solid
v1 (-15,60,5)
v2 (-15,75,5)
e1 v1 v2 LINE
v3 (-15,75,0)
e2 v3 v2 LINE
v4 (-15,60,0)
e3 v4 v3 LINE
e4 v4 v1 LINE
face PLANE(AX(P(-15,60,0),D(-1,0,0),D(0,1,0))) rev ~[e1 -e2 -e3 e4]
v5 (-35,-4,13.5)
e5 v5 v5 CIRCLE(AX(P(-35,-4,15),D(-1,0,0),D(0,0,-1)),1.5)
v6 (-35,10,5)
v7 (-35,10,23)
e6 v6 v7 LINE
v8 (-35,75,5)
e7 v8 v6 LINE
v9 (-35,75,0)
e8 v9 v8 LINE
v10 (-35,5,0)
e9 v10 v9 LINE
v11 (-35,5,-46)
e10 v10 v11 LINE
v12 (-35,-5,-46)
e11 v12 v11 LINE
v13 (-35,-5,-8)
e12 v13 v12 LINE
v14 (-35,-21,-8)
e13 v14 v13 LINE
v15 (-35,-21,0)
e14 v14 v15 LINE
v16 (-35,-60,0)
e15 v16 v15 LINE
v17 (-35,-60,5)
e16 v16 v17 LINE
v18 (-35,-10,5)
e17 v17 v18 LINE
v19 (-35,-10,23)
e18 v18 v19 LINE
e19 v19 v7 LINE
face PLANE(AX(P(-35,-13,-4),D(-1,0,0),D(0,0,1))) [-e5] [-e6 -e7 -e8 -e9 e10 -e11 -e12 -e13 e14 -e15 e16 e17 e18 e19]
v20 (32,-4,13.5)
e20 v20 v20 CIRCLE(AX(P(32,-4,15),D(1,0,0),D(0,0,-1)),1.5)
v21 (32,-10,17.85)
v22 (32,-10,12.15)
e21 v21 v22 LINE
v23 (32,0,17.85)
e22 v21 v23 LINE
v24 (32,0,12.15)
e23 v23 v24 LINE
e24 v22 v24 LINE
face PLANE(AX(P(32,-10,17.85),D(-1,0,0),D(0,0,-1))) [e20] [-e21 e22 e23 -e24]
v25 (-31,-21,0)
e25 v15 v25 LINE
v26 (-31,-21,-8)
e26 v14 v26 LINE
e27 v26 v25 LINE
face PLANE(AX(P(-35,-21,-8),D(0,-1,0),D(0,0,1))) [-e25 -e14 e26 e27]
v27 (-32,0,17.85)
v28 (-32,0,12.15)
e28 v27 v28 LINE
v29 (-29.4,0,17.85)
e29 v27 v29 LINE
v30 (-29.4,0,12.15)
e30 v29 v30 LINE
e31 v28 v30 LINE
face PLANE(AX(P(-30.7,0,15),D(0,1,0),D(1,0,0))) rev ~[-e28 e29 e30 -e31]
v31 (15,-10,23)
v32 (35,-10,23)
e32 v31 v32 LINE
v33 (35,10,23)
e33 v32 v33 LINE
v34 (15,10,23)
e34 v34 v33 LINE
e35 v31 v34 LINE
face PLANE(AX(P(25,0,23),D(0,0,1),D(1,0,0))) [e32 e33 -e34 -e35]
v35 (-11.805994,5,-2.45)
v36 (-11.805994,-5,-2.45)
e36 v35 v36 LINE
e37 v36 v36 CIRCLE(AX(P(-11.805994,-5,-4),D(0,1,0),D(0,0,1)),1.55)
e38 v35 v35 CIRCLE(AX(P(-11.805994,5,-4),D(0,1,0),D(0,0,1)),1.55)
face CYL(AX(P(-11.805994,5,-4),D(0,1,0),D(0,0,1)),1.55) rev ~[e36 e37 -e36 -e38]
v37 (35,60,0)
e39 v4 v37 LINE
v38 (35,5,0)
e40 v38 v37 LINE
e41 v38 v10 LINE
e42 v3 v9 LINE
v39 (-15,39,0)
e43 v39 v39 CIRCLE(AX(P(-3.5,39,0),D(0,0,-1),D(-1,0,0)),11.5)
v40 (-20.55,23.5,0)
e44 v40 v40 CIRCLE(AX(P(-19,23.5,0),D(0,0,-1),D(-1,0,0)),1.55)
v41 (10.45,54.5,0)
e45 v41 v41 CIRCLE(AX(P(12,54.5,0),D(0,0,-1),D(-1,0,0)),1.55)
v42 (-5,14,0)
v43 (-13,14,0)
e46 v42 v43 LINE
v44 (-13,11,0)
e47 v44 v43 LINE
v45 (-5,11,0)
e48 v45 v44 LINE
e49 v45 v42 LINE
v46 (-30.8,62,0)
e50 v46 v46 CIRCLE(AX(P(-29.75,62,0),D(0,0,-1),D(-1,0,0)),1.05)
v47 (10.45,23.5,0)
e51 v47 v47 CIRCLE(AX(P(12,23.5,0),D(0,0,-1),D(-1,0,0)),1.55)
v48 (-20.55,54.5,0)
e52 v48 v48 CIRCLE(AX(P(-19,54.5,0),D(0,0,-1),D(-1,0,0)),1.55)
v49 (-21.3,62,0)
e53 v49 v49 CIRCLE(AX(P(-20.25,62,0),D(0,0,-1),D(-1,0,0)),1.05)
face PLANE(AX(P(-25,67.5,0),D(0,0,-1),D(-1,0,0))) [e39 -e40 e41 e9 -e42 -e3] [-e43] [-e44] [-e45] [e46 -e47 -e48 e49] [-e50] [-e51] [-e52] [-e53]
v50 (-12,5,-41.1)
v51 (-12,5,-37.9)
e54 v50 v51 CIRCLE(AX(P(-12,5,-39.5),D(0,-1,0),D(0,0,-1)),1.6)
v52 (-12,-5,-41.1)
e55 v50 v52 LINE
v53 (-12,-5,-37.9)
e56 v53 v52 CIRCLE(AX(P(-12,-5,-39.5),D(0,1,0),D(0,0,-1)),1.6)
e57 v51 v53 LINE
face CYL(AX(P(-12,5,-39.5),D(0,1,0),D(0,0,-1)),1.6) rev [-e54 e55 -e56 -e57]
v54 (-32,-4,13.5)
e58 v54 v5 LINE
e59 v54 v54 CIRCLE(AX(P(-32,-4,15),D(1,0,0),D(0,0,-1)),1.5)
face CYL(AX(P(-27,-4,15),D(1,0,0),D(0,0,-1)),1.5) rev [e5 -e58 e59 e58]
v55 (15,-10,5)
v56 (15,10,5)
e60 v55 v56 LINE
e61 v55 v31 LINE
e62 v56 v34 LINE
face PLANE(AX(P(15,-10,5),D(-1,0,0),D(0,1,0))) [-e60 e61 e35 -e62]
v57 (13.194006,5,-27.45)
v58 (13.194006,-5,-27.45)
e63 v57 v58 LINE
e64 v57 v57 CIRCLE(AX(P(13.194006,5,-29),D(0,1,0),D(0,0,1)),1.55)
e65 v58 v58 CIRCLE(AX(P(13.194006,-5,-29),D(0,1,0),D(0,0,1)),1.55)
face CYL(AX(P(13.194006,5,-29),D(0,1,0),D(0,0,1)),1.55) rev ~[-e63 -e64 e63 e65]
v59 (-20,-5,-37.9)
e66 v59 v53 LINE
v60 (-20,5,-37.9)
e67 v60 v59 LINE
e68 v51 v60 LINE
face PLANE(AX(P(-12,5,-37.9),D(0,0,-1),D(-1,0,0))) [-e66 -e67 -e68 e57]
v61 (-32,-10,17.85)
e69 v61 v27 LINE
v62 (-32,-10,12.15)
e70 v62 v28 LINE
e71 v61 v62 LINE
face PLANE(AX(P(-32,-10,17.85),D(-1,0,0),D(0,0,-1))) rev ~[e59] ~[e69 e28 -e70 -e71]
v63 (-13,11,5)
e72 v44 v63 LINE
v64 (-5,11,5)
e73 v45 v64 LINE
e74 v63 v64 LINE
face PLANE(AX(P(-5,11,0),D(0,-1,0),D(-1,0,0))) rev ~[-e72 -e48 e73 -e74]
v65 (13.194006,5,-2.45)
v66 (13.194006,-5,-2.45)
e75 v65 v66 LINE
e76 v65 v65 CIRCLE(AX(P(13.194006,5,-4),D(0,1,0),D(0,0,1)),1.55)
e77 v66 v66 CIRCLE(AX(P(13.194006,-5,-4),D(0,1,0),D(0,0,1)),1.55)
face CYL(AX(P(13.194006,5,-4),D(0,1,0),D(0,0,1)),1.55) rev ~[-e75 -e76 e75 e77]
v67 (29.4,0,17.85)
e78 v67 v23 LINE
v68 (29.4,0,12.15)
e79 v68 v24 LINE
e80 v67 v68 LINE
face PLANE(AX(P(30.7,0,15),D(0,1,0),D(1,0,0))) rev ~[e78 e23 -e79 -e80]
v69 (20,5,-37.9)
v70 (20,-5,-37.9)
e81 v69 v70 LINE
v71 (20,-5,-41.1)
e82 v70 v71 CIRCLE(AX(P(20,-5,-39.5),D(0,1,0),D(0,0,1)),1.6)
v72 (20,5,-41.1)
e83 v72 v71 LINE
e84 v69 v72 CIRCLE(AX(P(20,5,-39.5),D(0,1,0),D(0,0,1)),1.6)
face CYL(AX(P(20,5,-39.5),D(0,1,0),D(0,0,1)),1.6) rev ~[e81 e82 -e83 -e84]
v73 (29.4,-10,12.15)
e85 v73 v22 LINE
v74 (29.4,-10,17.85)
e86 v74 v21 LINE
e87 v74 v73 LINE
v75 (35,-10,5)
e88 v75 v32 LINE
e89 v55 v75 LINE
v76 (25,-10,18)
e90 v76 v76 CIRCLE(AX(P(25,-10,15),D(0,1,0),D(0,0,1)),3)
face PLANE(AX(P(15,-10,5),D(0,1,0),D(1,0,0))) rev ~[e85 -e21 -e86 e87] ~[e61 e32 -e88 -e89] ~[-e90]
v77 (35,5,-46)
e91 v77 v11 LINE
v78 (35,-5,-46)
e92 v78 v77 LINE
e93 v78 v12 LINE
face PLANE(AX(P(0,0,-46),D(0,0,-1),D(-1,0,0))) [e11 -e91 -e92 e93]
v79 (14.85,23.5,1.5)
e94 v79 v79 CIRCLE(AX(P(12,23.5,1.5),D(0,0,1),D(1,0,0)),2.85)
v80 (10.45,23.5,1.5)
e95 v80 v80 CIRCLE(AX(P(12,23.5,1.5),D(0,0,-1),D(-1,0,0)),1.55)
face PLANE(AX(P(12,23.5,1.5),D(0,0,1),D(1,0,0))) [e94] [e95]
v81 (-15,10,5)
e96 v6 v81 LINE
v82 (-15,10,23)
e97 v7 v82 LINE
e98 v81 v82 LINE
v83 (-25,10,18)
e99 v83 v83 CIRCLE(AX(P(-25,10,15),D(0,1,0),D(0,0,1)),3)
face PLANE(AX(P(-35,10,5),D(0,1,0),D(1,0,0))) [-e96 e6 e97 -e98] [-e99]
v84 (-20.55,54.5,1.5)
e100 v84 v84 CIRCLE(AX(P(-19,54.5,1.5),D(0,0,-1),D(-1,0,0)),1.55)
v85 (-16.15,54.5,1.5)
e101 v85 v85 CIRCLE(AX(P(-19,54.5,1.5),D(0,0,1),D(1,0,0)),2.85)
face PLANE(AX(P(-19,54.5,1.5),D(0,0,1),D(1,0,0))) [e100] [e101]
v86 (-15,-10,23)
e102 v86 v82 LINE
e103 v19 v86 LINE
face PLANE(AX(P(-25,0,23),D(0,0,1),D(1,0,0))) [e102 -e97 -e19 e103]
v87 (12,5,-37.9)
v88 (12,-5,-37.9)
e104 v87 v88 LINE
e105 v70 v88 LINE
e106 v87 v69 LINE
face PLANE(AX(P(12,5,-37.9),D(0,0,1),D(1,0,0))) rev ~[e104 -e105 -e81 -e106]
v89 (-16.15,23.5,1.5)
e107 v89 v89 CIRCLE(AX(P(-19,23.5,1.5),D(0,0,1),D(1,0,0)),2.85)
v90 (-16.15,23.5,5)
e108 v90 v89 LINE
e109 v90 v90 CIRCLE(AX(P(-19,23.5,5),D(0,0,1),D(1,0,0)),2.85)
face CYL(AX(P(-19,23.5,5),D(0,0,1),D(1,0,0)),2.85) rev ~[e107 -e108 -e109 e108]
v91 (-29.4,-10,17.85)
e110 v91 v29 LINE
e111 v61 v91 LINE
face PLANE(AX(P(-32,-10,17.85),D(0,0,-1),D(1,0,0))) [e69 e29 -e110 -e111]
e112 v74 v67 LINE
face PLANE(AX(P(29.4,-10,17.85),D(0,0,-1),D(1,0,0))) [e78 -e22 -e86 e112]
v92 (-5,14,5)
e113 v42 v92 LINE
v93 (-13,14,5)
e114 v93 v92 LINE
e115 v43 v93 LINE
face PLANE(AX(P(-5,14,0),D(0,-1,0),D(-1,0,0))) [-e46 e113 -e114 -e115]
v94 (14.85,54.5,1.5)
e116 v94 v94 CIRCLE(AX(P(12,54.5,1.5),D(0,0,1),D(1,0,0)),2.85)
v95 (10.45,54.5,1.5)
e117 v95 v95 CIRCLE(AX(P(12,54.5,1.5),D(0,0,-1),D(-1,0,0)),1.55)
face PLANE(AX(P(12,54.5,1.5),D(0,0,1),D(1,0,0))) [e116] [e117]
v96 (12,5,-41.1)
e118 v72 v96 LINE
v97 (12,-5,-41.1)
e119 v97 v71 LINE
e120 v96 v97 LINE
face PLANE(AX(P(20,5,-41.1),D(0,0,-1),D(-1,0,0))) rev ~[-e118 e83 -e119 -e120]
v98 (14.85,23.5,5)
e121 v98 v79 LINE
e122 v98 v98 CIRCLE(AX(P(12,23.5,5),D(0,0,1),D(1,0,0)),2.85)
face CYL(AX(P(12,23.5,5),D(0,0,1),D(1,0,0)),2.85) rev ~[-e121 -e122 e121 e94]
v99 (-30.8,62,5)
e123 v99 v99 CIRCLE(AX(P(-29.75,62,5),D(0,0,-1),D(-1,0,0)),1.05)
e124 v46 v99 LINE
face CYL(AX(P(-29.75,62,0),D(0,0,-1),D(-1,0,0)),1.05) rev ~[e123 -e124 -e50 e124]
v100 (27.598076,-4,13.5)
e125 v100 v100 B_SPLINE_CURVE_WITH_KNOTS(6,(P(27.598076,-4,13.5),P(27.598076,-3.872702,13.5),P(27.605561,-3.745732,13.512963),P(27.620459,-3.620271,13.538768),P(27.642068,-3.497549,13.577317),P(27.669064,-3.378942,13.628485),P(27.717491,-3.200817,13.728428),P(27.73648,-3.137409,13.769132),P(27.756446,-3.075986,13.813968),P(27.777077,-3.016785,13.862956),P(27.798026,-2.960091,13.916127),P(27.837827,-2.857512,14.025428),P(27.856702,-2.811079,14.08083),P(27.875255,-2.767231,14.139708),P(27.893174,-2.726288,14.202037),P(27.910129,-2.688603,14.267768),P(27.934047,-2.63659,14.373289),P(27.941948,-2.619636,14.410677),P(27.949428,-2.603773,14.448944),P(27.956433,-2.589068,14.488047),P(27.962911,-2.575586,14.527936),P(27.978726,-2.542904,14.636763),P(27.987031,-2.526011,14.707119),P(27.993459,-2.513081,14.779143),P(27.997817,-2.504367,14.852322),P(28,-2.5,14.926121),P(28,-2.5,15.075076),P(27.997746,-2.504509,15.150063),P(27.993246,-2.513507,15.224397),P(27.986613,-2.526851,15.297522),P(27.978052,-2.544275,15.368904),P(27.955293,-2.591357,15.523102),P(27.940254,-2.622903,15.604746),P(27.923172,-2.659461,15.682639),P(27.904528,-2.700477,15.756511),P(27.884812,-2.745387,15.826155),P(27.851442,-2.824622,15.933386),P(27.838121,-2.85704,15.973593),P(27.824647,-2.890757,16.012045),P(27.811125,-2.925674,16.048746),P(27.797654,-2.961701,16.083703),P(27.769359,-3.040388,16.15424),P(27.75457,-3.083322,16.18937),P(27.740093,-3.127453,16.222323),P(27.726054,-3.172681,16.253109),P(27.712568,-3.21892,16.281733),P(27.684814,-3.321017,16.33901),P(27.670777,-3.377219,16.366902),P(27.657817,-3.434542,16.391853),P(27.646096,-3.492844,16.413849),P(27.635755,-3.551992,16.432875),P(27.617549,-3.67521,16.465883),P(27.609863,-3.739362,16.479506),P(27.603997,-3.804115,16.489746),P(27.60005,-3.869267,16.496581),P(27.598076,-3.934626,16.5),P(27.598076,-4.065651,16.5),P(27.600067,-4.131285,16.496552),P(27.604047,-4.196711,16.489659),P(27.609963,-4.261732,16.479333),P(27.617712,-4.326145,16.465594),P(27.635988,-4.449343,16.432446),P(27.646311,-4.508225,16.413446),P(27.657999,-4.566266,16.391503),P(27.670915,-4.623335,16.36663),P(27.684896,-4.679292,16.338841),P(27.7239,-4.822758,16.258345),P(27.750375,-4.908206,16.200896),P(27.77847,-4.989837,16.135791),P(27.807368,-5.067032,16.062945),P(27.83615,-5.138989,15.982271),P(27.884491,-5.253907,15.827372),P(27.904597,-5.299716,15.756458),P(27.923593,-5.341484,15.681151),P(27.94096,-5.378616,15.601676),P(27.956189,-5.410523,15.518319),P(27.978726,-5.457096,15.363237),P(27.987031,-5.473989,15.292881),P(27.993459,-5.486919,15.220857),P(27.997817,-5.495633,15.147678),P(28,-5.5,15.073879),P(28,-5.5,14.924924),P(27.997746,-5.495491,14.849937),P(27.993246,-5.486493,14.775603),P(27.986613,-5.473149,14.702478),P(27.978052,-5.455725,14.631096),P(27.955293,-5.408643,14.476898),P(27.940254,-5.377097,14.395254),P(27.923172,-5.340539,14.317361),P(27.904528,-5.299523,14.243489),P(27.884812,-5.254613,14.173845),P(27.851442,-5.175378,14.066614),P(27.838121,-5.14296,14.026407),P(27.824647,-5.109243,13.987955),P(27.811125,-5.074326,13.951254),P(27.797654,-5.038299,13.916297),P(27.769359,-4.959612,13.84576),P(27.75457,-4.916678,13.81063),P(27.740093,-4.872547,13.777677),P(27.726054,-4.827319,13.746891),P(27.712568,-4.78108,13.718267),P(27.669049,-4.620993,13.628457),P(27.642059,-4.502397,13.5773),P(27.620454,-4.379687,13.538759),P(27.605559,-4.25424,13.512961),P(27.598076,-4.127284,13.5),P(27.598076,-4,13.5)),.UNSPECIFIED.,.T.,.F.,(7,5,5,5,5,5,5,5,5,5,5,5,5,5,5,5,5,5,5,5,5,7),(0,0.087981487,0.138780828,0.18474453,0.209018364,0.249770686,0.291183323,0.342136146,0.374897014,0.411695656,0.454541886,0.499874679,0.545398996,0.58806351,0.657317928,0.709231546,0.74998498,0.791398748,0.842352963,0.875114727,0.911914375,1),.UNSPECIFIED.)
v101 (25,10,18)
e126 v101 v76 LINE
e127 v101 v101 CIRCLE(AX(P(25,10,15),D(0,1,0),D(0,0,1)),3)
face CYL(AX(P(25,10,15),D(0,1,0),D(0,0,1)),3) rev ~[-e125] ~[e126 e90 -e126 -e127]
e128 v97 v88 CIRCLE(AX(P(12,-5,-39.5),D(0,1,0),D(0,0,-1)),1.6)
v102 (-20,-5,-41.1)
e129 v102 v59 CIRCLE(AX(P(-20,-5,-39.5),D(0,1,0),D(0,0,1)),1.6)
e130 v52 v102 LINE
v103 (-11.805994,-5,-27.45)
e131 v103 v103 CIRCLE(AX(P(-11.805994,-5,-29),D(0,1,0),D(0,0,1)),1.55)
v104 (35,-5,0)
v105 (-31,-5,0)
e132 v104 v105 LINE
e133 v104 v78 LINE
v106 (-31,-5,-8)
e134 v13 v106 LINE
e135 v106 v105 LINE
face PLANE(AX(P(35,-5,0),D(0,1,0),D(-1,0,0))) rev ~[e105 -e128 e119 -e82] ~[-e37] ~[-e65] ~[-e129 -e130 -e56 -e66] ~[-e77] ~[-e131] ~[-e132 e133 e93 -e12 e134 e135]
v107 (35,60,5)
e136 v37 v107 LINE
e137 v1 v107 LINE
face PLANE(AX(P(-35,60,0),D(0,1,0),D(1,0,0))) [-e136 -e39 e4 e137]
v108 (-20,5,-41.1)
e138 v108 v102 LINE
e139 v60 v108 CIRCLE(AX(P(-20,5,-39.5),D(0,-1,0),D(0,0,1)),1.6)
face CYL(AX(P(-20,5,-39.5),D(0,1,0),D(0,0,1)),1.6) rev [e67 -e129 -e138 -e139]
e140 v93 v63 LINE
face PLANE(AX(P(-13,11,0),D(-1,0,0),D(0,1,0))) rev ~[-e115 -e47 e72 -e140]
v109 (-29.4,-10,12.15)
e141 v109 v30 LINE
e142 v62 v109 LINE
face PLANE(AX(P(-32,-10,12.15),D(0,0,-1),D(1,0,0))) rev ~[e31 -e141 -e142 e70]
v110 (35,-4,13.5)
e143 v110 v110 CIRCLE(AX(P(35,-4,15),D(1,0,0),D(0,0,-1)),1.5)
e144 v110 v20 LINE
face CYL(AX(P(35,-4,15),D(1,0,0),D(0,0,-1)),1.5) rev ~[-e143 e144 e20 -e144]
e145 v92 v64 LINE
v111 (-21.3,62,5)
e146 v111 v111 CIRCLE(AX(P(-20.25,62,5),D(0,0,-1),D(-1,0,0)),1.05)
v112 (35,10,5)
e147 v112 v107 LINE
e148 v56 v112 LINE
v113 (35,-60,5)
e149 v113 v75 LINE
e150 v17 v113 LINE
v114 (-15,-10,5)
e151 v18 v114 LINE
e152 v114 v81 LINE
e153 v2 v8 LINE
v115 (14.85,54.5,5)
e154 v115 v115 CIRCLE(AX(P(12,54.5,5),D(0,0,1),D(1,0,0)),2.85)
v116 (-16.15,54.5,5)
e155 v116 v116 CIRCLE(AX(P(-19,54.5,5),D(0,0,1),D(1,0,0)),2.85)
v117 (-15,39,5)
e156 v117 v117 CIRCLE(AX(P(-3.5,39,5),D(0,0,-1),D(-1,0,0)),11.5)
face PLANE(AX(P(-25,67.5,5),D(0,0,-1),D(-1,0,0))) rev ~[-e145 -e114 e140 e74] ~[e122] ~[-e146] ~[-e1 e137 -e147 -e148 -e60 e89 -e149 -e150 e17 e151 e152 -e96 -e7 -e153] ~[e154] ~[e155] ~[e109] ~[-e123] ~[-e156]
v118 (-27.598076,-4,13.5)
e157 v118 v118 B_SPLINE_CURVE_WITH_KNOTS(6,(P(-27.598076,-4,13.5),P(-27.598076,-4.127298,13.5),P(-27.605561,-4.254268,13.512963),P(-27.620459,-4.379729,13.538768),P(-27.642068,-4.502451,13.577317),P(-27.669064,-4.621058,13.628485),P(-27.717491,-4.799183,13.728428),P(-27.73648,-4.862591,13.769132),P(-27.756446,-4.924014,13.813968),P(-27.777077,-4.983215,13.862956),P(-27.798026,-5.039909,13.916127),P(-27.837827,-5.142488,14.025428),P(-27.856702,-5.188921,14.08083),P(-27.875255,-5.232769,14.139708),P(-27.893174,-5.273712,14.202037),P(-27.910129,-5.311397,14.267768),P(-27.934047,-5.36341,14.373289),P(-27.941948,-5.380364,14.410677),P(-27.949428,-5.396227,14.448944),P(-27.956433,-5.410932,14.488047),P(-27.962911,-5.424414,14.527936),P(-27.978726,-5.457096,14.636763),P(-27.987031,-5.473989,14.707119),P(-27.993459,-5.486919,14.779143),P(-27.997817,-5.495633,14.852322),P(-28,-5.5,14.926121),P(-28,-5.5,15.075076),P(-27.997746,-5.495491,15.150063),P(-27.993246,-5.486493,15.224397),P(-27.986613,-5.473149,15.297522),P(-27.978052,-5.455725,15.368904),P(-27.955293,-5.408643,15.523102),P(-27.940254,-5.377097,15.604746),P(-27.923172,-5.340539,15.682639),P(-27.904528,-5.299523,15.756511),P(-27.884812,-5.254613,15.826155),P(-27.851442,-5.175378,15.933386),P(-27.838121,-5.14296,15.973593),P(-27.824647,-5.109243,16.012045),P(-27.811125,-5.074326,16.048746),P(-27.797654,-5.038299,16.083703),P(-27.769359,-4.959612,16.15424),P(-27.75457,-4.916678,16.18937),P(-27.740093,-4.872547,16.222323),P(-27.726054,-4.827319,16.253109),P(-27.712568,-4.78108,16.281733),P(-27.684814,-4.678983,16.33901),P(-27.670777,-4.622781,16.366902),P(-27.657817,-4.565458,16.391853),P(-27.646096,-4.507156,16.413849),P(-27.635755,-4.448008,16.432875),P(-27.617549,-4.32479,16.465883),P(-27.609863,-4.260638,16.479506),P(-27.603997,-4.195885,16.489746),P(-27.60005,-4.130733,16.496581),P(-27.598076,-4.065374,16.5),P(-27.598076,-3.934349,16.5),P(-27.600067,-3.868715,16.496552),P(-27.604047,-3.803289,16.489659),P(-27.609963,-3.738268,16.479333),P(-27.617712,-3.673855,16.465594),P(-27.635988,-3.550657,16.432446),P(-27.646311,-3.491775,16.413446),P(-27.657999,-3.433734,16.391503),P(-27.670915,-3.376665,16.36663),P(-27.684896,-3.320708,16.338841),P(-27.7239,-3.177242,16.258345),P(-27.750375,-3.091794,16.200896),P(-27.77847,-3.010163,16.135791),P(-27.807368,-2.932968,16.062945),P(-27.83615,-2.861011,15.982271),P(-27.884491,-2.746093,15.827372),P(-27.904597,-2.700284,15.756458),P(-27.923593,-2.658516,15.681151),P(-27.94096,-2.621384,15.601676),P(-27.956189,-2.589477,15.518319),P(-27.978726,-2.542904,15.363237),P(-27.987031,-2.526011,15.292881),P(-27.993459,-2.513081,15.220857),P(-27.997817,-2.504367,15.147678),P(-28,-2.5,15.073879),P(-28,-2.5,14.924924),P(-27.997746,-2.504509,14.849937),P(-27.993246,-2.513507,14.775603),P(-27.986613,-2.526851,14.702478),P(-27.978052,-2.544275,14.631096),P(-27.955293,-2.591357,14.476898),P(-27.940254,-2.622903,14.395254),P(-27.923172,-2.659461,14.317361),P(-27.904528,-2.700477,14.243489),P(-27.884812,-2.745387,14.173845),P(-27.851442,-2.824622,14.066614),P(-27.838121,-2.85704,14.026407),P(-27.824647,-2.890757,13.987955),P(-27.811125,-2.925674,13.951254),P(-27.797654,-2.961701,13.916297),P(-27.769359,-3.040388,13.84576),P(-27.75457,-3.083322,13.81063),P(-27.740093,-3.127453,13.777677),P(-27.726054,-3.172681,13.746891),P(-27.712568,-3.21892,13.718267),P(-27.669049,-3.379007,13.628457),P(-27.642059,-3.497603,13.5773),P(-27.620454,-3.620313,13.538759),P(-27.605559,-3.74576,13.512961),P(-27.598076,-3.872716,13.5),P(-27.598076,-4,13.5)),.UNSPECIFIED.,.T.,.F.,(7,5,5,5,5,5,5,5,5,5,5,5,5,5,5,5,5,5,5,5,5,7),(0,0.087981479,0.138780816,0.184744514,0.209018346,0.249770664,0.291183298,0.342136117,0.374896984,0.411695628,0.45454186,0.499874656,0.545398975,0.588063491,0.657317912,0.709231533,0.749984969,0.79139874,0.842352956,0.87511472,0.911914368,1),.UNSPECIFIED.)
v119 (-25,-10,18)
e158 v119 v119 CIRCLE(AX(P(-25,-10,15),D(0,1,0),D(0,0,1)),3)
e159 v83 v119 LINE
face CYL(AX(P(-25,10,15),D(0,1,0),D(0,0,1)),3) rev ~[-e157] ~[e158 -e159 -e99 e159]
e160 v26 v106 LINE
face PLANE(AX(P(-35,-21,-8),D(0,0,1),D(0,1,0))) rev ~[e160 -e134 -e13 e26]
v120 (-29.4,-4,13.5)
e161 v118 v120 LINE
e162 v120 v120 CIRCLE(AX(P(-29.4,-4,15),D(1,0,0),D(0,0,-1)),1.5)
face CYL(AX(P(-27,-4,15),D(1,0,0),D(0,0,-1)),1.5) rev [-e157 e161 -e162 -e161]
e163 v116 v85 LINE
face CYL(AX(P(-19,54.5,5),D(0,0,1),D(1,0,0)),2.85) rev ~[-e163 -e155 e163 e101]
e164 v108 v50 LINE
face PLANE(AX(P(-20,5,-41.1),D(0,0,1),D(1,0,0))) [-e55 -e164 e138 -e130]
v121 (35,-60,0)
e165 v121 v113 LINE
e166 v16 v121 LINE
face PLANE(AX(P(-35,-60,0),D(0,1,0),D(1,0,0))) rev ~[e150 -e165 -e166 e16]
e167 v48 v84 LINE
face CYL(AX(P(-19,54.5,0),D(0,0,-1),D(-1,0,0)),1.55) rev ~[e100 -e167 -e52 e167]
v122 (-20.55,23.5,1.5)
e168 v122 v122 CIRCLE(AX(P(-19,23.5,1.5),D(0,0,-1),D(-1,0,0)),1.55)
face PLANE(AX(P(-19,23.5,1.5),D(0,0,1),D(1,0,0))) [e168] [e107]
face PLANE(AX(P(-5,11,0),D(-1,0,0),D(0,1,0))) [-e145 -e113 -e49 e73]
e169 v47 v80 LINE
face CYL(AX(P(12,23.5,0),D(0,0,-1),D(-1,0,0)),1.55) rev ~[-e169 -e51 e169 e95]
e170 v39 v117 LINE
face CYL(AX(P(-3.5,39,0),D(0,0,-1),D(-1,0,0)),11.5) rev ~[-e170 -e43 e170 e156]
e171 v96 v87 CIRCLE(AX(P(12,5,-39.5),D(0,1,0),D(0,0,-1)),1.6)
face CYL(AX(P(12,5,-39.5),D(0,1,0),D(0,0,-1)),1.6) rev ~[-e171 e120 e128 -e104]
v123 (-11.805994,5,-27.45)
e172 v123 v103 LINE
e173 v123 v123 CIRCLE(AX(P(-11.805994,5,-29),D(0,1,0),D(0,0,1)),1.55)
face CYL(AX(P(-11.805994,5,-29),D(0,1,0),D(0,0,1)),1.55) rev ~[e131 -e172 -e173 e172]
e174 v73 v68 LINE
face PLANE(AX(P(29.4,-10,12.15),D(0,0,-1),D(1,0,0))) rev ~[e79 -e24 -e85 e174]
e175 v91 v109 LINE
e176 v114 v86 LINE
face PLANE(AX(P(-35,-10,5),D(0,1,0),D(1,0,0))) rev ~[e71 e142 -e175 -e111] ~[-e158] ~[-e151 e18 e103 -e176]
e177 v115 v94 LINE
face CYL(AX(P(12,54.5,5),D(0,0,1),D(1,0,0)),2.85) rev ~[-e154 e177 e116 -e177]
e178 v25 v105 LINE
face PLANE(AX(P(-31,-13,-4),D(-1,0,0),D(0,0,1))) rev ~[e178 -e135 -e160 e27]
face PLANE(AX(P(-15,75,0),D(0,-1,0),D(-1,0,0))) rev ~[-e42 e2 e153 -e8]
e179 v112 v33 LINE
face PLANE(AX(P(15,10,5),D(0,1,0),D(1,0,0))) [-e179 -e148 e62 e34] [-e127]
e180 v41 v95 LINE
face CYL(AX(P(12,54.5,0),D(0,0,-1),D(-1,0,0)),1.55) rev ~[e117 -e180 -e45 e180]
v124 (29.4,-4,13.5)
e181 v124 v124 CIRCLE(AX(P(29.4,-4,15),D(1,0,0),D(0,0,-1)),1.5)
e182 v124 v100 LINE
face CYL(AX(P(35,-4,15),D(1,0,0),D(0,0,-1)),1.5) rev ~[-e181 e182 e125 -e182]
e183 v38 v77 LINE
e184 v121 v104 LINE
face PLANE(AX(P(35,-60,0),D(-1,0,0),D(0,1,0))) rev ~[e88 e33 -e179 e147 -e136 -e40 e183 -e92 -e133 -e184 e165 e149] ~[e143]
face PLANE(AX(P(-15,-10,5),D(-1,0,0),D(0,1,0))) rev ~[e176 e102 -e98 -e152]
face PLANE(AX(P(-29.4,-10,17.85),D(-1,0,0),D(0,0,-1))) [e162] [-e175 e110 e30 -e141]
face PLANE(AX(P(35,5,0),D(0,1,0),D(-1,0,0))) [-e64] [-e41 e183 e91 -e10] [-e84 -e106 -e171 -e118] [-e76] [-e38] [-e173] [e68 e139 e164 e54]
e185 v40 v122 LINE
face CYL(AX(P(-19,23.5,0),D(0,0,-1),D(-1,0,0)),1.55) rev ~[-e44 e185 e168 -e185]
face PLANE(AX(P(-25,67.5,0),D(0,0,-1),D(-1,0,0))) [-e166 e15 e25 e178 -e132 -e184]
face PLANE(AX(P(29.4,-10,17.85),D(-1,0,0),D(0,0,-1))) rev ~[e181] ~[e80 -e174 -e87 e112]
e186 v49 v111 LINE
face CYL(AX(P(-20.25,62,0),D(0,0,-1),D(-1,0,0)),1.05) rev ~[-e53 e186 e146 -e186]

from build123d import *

# Parameters (mm, degrees)
SKETCH1_W           = 70
SKETCH1_H           = 120
BOSS_EXTRUDE1_DEPTH = 5
SKETCH2_W           = 20
SKETCH2_H           = 20
BOSS_EXTRUDE2_DEPTH = 18
CUT_EXTRUDE1_REACH  = 83.572
SKETCH3_R           = 3
CUT_EXTRUDE2_REACH  = 75.171
SKETCH4_R           = 11.5
SKETCH4_R_2         = 1.55
SKETCH5_W           = 20
SKETCH5_H           = 15
SKETCH5_R           = 1.05
BOSS_EXTRUDE3_DEPTH = 5
SKETCH6_W           = 70
SKETCH6_H           = 10
BOSS_EXTRUDE4_DEPTH = 46
SKETCH7_W           = 2.6
SKETCH7_H           = 5.7
CUT_EXTRUDE3_DEPTH  = 10
SKETCH8_R           = 1.5
CUT_EXTRUDE4_DEPTH  = 8
CUT_EXTRUDE5_START  = -8
SKETCH9_R           = 1.5
CUT_EXTRUDE5_DEPTH  = 8
SKETCH10_R          = 2.85
CUT_EXTRUDE6_DEPTH  = 3.5
CUT_EXTRUDE7_REACH  = 92.78
SKETCH11_R          = 1.55
CUT_EXTRUDE8_REACH  = 92.78
SKETCH14_W          = 8
SKETCH14_H          = 16
BOSS_EXTRUDE5_DEPTH = 4
CUT_EXTRUDE9_REACH  = 96.689
SKETCH15_W          = 8
SKETCH15_H          = 3


with BuildPart() as part:
    # Sketch1 → Boss-Extrude1 (new body)
    with BuildSketch(Plane.XY):
        Rectangle(SKETCH1_W, SKETCH1_H)
    extrude(amount=BOSS_EXTRUDE1_DEPTH)

    # Sketch2 → Boss-Extrude2 (add)
    with BuildSketch(Plane.XY.offset(5)):
        with Locations((-25, 0)):
            Rectangle(SKETCH2_W, SKETCH2_H)
        with Locations((25, 0)):
            Rectangle(SKETCH2_W, SKETCH2_H)
    extrude(amount=BOSS_EXTRUDE2_DEPTH)

    # Sketch3 → Cut-Extrude1 (cut, up to next)
    with BuildSketch(Plane(origin=(0, 10, 0), x_dir=(1, 0, 0), z_dir=(0, 1, 0)), mode=Mode.PRIVATE) as cut_extrude1_sk1:
        with Locations(Location((-25, -15, 0), (0, 0, 270))):
            Circle(SKETCH3_R)
    cut_extrude1_tool1 = extrude(cut_extrude1_sk1.sketch, amount=-CUT_EXTRUDE1_REACH, mode=Mode.PRIVATE) & part.part
    # Sketch3 → Cut-Extrude1 (cut, up to next)
    with BuildSketch(Plane(origin=(0, 10, 0), x_dir=(1, 0, 0), z_dir=(0, 1, 0)), mode=Mode.PRIVATE) as cut_extrude1_sk2:
        with Locations(Location((25, -15, 0), (0, 0, 270))):
            Circle(SKETCH3_R)
    cut_extrude1_tool2 = extrude(cut_extrude1_sk2.sketch, amount=-CUT_EXTRUDE1_REACH, mode=Mode.PRIVATE) & part.part
    add(cut_extrude1_tool1.solids().sort_by_distance((-25, 10, 15))[0], mode=Mode.SUBTRACT)
    add(cut_extrude1_tool2.solids().sort_by_distance((25, 10, 15))[0], mode=Mode.SUBTRACT)

    # Sketch4 → Cut-Extrude2 (cut, up to next)
    with BuildSketch(Plane(origin=(0, 0, 0), x_dir=(-1, 0, 0), z_dir=(0, 0, -1)), mode=Mode.PRIVATE) as cut_extrude2_sk1:
        with Locations((3.5, 39)):
            Circle(SKETCH4_R)
    cut_extrude2_tool1 = extrude(cut_extrude2_sk1.sketch, amount=-CUT_EXTRUDE2_REACH, mode=Mode.PRIVATE) & part.part
    # Sketch4 → Cut-Extrude2 (cut, up to next)
    with BuildSketch(Plane(origin=(0, 0, 0), x_dir=(-1, 0, 0), z_dir=(0, 0, -1)), mode=Mode.PRIVATE) as cut_extrude2_sk2:
        with Locations((-12, 54.5)):
            Circle(SKETCH4_R_2)
    cut_extrude2_tool2 = extrude(cut_extrude2_sk2.sketch, amount=-CUT_EXTRUDE2_REACH, mode=Mode.PRIVATE) & part.part
    # Sketch4 → Cut-Extrude2 (cut, up to next)
    with BuildSketch(Plane(origin=(0, 0, 0), x_dir=(-1, 0, 0), z_dir=(0, 0, -1)), mode=Mode.PRIVATE) as cut_extrude2_sk3:
        with Locations((19, 54.5)):
            Circle(SKETCH4_R_2)
    cut_extrude2_tool3 = extrude(cut_extrude2_sk3.sketch, amount=-CUT_EXTRUDE2_REACH, mode=Mode.PRIVATE) & part.part
    # Sketch4 → Cut-Extrude2 (cut, up to next)
    with BuildSketch(Plane(origin=(0, 0, 0), x_dir=(-1, 0, 0), z_dir=(0, 0, -1)), mode=Mode.PRIVATE) as cut_extrude2_sk4:
        with Locations((19, 23.5)):
            Circle(SKETCH4_R_2)
    cut_extrude2_tool4 = extrude(cut_extrude2_sk4.sketch, amount=-CUT_EXTRUDE2_REACH, mode=Mode.PRIVATE) & part.part
    # Sketch4 → Cut-Extrude2 (cut, up to next)
    with BuildSketch(Plane(origin=(0, 0, 0), x_dir=(-1, 0, 0), z_dir=(0, 0, -1)), mode=Mode.PRIVATE) as cut_extrude2_sk5:
        with Locations((-12, 23.5)):
            Circle(SKETCH4_R_2)
    cut_extrude2_tool5 = extrude(cut_extrude2_sk5.sketch, amount=-CUT_EXTRUDE2_REACH, mode=Mode.PRIVATE) & part.part
    add(cut_extrude2_tool1.solids().sort_by_distance((-3.5, 39, 0))[0], mode=Mode.SUBTRACT)
    add(cut_extrude2_tool2.solids().sort_by_distance((12, 54.5, 0))[0], mode=Mode.SUBTRACT)
    add(cut_extrude2_tool3.solids().sort_by_distance((-19, 54.5, 0))[0], mode=Mode.SUBTRACT)
    add(cut_extrude2_tool4.solids().sort_by_distance((-19, 23.5, 0))[0], mode=Mode.SUBTRACT)
    add(cut_extrude2_tool5.solids().sort_by_distance((12, 23.5, 0))[0], mode=Mode.SUBTRACT)

    # Sketch5 → Boss-Extrude3 (add)
    with BuildSketch(Plane(origin=(0, 0, 0), x_dir=(-1, 0, 0), z_dir=(0, 0, -1))):
        with Locations((25, 67.5)):
            Rectangle(SKETCH5_W, SKETCH5_H)
        with Locations((20.25, 62)):
            Circle(SKETCH5_R, mode=Mode.SUBTRACT)
        with Locations((29.75, 62)):
            Circle(SKETCH5_R, mode=Mode.SUBTRACT)
    extrude(amount=-BOSS_EXTRUDE3_DEPTH)

    # Sketch6 → Boss-Extrude4 (add)
    with BuildSketch(Plane(origin=(0, 0, 0), x_dir=(-1, 0, 0), z_dir=(0, 0, -1))):
        Rectangle(SKETCH6_W, SKETCH6_H)
    extrude(amount=BOSS_EXTRUDE4_DEPTH)

    # Sketch7 → Cut-Extrude3 (cut)
    with BuildSketch(Plane(origin=(0, -10, 0), x_dir=(1, 0, 0), z_dir=(0, 1, 0))):
        with Locations((30.7, -15)):
            Rectangle(SKETCH7_W, SKETCH7_H)
        with Locations((-30.7, -15)):
            Rectangle(SKETCH7_W, SKETCH7_H)
    extrude(amount=CUT_EXTRUDE3_DEPTH, mode=Mode.SUBTRACT)

    # Sketch8 → Cut-Extrude4 (cut)
    with BuildSketch(Plane(origin=(35, 0, 0), x_dir=(0, 0, -1), z_dir=(1, 0, 0))):
        with Locations((-15, -4)):
            Circle(SKETCH8_R)
    extrude(amount=-CUT_EXTRUDE4_DEPTH, mode=Mode.SUBTRACT)

    # Sketch9 → Cut-Extrude5 (cut)
    with BuildSketch(Plane.ZY.offset(35).offset(CUT_EXTRUDE5_START)):
        with Locations(Location((15, -4, 0), (0, 0, 180))):
            Circle(SKETCH9_R)
    extrude(amount=CUT_EXTRUDE5_DEPTH, mode=Mode.SUBTRACT)

    # Sketch10 → Cut-Extrude6 (cut)
    with BuildSketch(Plane.XY.offset(5)):
        with Locations((-19, 54.5)):
            Circle(SKETCH10_R)
        with Locations((12, 54.5)):
            Circle(SKETCH10_R)
        with Locations((12, 23.5)):
            Circle(SKETCH10_R)
        with Locations((-19, 23.5)):
            Circle(SKETCH10_R)
    extrude(amount=-CUT_EXTRUDE6_DEPTH, mode=Mode.SUBTRACT)

    # Sketch11 → Cut-Extrude7 (cut, up to next)
    with BuildSketch(Plane(origin=(0, 5, 0), x_dir=(1, 0, 0), z_dir=(0, 1, 0)), mode=Mode.PRIVATE) as cut_extrude7_sk1:
        with Locations(Location((-11.805993826, 29, 0), (0, 0, 270))):
            Circle(SKETCH11_R)
    cut_extrude7_tool1 = extrude(cut_extrude7_sk1.sketch, amount=-CUT_EXTRUDE7_REACH, mode=Mode.PRIVATE) & part.part
    # Sketch11 → Cut-Extrude7 (cut, up to next)
    with BuildSketch(Plane(origin=(0, 5, 0), x_dir=(1, 0, 0), z_dir=(0, 1, 0)), mode=Mode.PRIVATE) as cut_extrude7_sk2:
        with Locations(Location((-11.805993826, 4, 0), (0, 0, 270))):
            Circle(SKETCH11_R)
    cut_extrude7_tool2 = extrude(cut_extrude7_sk2.sketch, amount=-CUT_EXTRUDE7_REACH, mode=Mode.PRIVATE) & part.part
    # Sketch11 → Cut-Extrude7 (cut, up to next)
    with BuildSketch(Plane(origin=(0, 5, 0), x_dir=(1, 0, 0), z_dir=(0, 1, 0)), mode=Mode.PRIVATE) as cut_extrude7_sk3:
        with Locations(Location((13.194006174, 29, 0), (0, 0, 270))):
            Circle(SKETCH11_R)
    cut_extrude7_tool3 = extrude(cut_extrude7_sk3.sketch, amount=-CUT_EXTRUDE7_REACH, mode=Mode.PRIVATE) & part.part
    # Sketch11 → Cut-Extrude7 (cut, up to next)
    with BuildSketch(Plane(origin=(0, 5, 0), x_dir=(1, 0, 0), z_dir=(0, 1, 0)), mode=Mode.PRIVATE) as cut_extrude7_sk4:
        with Locations(Location((13.194006174, 4, 0), (0, 0, 270))):
            Circle(SKETCH11_R)
    cut_extrude7_tool4 = extrude(cut_extrude7_sk4.sketch, amount=-CUT_EXTRUDE7_REACH, mode=Mode.PRIVATE) & part.part
    add(cut_extrude7_tool1.solids().sort_by_distance((-11.805994, 5, -29))[0], mode=Mode.SUBTRACT)
    add(cut_extrude7_tool2.solids().sort_by_distance((-11.805994, 5, -4))[0], mode=Mode.SUBTRACT)
    add(cut_extrude7_tool3.solids().sort_by_distance((13.194006, 5, -29))[0], mode=Mode.SUBTRACT)
    add(cut_extrude7_tool4.solids().sort_by_distance((13.194006, 5, -4))[0], mode=Mode.SUBTRACT)

    # Sketch13 → Cut-Extrude8 (cut, up to next)
    with BuildSketch(Plane(origin=(0, 5, 0), x_dir=(1, 0, 0), z_dir=(0, 1, 0)), mode=Mode.PRIVATE) as cut_extrude8_sk1:
        with BuildLine():
            Line((-20, 41.1), (-12, 41.1))
            ThreePointArc((-12, 41.1), (-10.4, 39.5), (-12, 37.9))
            Line((-12, 37.9), (-20, 37.9))
            ThreePointArc((-20, 37.9), (-21.6, 39.5), (-20, 41.1))
        make_face()
    cut_extrude8_tool1 = extrude(cut_extrude8_sk1.sketch, amount=-CUT_EXTRUDE8_REACH, mode=Mode.PRIVATE) & part.part
    # Sketch13 → Cut-Extrude8 (cut, up to next)
    with BuildSketch(Plane(origin=(0, 5, 0), x_dir=(1, 0, 0), z_dir=(0, 1, 0)), mode=Mode.PRIVATE) as cut_extrude8_sk2:
        with BuildLine():
            Line((20, 41.1), (12, 41.1))
            ThreePointArc((12, 41.1), (10.4, 39.5), (12, 37.9))
            Line((12, 37.9), (20, 37.9))
            ThreePointArc((20, 37.9), (21.6, 39.5), (20, 41.1))
        make_face()
    cut_extrude8_tool2 = extrude(cut_extrude8_sk2.sketch, amount=-CUT_EXTRUDE8_REACH, mode=Mode.PRIVATE) & part.part
    add(cut_extrude8_tool1.solids().sort_by_distance((-16, 5, -39.5))[0], mode=Mode.SUBTRACT)
    add(cut_extrude8_tool2.solids().sort_by_distance((16, 5, -39.5))[0], mode=Mode.SUBTRACT)

    # Sketch14 → Boss-Extrude5 (add)
    with BuildSketch(Plane.ZY.offset(35)):
        with Locations((-4, -13)):
            Rectangle(SKETCH14_W, SKETCH14_H)
    extrude(amount=-BOSS_EXTRUDE5_DEPTH)

    # Sketch15 → Cut-Extrude9 (cut, up to next)
    with BuildSketch(Plane(origin=(0, 0, 0), x_dir=(-1, 0, 0), z_dir=(0, 0, -1)), mode=Mode.PRIVATE) as cut_extrude9_sk1:
        with Locations((9, 12.5)):
            Rectangle(SKETCH15_W, SKETCH15_H)
    cut_extrude9_tool1 = extrude(cut_extrude9_sk1.sketch, amount=-CUT_EXTRUDE9_REACH, mode=Mode.PRIVATE) & part.part
    add(cut_extrude9_tool1.solids().sort_by_distance((-9, 12.5, 0))[0], mode=Mode.SUBTRACT)


solid = part.part
